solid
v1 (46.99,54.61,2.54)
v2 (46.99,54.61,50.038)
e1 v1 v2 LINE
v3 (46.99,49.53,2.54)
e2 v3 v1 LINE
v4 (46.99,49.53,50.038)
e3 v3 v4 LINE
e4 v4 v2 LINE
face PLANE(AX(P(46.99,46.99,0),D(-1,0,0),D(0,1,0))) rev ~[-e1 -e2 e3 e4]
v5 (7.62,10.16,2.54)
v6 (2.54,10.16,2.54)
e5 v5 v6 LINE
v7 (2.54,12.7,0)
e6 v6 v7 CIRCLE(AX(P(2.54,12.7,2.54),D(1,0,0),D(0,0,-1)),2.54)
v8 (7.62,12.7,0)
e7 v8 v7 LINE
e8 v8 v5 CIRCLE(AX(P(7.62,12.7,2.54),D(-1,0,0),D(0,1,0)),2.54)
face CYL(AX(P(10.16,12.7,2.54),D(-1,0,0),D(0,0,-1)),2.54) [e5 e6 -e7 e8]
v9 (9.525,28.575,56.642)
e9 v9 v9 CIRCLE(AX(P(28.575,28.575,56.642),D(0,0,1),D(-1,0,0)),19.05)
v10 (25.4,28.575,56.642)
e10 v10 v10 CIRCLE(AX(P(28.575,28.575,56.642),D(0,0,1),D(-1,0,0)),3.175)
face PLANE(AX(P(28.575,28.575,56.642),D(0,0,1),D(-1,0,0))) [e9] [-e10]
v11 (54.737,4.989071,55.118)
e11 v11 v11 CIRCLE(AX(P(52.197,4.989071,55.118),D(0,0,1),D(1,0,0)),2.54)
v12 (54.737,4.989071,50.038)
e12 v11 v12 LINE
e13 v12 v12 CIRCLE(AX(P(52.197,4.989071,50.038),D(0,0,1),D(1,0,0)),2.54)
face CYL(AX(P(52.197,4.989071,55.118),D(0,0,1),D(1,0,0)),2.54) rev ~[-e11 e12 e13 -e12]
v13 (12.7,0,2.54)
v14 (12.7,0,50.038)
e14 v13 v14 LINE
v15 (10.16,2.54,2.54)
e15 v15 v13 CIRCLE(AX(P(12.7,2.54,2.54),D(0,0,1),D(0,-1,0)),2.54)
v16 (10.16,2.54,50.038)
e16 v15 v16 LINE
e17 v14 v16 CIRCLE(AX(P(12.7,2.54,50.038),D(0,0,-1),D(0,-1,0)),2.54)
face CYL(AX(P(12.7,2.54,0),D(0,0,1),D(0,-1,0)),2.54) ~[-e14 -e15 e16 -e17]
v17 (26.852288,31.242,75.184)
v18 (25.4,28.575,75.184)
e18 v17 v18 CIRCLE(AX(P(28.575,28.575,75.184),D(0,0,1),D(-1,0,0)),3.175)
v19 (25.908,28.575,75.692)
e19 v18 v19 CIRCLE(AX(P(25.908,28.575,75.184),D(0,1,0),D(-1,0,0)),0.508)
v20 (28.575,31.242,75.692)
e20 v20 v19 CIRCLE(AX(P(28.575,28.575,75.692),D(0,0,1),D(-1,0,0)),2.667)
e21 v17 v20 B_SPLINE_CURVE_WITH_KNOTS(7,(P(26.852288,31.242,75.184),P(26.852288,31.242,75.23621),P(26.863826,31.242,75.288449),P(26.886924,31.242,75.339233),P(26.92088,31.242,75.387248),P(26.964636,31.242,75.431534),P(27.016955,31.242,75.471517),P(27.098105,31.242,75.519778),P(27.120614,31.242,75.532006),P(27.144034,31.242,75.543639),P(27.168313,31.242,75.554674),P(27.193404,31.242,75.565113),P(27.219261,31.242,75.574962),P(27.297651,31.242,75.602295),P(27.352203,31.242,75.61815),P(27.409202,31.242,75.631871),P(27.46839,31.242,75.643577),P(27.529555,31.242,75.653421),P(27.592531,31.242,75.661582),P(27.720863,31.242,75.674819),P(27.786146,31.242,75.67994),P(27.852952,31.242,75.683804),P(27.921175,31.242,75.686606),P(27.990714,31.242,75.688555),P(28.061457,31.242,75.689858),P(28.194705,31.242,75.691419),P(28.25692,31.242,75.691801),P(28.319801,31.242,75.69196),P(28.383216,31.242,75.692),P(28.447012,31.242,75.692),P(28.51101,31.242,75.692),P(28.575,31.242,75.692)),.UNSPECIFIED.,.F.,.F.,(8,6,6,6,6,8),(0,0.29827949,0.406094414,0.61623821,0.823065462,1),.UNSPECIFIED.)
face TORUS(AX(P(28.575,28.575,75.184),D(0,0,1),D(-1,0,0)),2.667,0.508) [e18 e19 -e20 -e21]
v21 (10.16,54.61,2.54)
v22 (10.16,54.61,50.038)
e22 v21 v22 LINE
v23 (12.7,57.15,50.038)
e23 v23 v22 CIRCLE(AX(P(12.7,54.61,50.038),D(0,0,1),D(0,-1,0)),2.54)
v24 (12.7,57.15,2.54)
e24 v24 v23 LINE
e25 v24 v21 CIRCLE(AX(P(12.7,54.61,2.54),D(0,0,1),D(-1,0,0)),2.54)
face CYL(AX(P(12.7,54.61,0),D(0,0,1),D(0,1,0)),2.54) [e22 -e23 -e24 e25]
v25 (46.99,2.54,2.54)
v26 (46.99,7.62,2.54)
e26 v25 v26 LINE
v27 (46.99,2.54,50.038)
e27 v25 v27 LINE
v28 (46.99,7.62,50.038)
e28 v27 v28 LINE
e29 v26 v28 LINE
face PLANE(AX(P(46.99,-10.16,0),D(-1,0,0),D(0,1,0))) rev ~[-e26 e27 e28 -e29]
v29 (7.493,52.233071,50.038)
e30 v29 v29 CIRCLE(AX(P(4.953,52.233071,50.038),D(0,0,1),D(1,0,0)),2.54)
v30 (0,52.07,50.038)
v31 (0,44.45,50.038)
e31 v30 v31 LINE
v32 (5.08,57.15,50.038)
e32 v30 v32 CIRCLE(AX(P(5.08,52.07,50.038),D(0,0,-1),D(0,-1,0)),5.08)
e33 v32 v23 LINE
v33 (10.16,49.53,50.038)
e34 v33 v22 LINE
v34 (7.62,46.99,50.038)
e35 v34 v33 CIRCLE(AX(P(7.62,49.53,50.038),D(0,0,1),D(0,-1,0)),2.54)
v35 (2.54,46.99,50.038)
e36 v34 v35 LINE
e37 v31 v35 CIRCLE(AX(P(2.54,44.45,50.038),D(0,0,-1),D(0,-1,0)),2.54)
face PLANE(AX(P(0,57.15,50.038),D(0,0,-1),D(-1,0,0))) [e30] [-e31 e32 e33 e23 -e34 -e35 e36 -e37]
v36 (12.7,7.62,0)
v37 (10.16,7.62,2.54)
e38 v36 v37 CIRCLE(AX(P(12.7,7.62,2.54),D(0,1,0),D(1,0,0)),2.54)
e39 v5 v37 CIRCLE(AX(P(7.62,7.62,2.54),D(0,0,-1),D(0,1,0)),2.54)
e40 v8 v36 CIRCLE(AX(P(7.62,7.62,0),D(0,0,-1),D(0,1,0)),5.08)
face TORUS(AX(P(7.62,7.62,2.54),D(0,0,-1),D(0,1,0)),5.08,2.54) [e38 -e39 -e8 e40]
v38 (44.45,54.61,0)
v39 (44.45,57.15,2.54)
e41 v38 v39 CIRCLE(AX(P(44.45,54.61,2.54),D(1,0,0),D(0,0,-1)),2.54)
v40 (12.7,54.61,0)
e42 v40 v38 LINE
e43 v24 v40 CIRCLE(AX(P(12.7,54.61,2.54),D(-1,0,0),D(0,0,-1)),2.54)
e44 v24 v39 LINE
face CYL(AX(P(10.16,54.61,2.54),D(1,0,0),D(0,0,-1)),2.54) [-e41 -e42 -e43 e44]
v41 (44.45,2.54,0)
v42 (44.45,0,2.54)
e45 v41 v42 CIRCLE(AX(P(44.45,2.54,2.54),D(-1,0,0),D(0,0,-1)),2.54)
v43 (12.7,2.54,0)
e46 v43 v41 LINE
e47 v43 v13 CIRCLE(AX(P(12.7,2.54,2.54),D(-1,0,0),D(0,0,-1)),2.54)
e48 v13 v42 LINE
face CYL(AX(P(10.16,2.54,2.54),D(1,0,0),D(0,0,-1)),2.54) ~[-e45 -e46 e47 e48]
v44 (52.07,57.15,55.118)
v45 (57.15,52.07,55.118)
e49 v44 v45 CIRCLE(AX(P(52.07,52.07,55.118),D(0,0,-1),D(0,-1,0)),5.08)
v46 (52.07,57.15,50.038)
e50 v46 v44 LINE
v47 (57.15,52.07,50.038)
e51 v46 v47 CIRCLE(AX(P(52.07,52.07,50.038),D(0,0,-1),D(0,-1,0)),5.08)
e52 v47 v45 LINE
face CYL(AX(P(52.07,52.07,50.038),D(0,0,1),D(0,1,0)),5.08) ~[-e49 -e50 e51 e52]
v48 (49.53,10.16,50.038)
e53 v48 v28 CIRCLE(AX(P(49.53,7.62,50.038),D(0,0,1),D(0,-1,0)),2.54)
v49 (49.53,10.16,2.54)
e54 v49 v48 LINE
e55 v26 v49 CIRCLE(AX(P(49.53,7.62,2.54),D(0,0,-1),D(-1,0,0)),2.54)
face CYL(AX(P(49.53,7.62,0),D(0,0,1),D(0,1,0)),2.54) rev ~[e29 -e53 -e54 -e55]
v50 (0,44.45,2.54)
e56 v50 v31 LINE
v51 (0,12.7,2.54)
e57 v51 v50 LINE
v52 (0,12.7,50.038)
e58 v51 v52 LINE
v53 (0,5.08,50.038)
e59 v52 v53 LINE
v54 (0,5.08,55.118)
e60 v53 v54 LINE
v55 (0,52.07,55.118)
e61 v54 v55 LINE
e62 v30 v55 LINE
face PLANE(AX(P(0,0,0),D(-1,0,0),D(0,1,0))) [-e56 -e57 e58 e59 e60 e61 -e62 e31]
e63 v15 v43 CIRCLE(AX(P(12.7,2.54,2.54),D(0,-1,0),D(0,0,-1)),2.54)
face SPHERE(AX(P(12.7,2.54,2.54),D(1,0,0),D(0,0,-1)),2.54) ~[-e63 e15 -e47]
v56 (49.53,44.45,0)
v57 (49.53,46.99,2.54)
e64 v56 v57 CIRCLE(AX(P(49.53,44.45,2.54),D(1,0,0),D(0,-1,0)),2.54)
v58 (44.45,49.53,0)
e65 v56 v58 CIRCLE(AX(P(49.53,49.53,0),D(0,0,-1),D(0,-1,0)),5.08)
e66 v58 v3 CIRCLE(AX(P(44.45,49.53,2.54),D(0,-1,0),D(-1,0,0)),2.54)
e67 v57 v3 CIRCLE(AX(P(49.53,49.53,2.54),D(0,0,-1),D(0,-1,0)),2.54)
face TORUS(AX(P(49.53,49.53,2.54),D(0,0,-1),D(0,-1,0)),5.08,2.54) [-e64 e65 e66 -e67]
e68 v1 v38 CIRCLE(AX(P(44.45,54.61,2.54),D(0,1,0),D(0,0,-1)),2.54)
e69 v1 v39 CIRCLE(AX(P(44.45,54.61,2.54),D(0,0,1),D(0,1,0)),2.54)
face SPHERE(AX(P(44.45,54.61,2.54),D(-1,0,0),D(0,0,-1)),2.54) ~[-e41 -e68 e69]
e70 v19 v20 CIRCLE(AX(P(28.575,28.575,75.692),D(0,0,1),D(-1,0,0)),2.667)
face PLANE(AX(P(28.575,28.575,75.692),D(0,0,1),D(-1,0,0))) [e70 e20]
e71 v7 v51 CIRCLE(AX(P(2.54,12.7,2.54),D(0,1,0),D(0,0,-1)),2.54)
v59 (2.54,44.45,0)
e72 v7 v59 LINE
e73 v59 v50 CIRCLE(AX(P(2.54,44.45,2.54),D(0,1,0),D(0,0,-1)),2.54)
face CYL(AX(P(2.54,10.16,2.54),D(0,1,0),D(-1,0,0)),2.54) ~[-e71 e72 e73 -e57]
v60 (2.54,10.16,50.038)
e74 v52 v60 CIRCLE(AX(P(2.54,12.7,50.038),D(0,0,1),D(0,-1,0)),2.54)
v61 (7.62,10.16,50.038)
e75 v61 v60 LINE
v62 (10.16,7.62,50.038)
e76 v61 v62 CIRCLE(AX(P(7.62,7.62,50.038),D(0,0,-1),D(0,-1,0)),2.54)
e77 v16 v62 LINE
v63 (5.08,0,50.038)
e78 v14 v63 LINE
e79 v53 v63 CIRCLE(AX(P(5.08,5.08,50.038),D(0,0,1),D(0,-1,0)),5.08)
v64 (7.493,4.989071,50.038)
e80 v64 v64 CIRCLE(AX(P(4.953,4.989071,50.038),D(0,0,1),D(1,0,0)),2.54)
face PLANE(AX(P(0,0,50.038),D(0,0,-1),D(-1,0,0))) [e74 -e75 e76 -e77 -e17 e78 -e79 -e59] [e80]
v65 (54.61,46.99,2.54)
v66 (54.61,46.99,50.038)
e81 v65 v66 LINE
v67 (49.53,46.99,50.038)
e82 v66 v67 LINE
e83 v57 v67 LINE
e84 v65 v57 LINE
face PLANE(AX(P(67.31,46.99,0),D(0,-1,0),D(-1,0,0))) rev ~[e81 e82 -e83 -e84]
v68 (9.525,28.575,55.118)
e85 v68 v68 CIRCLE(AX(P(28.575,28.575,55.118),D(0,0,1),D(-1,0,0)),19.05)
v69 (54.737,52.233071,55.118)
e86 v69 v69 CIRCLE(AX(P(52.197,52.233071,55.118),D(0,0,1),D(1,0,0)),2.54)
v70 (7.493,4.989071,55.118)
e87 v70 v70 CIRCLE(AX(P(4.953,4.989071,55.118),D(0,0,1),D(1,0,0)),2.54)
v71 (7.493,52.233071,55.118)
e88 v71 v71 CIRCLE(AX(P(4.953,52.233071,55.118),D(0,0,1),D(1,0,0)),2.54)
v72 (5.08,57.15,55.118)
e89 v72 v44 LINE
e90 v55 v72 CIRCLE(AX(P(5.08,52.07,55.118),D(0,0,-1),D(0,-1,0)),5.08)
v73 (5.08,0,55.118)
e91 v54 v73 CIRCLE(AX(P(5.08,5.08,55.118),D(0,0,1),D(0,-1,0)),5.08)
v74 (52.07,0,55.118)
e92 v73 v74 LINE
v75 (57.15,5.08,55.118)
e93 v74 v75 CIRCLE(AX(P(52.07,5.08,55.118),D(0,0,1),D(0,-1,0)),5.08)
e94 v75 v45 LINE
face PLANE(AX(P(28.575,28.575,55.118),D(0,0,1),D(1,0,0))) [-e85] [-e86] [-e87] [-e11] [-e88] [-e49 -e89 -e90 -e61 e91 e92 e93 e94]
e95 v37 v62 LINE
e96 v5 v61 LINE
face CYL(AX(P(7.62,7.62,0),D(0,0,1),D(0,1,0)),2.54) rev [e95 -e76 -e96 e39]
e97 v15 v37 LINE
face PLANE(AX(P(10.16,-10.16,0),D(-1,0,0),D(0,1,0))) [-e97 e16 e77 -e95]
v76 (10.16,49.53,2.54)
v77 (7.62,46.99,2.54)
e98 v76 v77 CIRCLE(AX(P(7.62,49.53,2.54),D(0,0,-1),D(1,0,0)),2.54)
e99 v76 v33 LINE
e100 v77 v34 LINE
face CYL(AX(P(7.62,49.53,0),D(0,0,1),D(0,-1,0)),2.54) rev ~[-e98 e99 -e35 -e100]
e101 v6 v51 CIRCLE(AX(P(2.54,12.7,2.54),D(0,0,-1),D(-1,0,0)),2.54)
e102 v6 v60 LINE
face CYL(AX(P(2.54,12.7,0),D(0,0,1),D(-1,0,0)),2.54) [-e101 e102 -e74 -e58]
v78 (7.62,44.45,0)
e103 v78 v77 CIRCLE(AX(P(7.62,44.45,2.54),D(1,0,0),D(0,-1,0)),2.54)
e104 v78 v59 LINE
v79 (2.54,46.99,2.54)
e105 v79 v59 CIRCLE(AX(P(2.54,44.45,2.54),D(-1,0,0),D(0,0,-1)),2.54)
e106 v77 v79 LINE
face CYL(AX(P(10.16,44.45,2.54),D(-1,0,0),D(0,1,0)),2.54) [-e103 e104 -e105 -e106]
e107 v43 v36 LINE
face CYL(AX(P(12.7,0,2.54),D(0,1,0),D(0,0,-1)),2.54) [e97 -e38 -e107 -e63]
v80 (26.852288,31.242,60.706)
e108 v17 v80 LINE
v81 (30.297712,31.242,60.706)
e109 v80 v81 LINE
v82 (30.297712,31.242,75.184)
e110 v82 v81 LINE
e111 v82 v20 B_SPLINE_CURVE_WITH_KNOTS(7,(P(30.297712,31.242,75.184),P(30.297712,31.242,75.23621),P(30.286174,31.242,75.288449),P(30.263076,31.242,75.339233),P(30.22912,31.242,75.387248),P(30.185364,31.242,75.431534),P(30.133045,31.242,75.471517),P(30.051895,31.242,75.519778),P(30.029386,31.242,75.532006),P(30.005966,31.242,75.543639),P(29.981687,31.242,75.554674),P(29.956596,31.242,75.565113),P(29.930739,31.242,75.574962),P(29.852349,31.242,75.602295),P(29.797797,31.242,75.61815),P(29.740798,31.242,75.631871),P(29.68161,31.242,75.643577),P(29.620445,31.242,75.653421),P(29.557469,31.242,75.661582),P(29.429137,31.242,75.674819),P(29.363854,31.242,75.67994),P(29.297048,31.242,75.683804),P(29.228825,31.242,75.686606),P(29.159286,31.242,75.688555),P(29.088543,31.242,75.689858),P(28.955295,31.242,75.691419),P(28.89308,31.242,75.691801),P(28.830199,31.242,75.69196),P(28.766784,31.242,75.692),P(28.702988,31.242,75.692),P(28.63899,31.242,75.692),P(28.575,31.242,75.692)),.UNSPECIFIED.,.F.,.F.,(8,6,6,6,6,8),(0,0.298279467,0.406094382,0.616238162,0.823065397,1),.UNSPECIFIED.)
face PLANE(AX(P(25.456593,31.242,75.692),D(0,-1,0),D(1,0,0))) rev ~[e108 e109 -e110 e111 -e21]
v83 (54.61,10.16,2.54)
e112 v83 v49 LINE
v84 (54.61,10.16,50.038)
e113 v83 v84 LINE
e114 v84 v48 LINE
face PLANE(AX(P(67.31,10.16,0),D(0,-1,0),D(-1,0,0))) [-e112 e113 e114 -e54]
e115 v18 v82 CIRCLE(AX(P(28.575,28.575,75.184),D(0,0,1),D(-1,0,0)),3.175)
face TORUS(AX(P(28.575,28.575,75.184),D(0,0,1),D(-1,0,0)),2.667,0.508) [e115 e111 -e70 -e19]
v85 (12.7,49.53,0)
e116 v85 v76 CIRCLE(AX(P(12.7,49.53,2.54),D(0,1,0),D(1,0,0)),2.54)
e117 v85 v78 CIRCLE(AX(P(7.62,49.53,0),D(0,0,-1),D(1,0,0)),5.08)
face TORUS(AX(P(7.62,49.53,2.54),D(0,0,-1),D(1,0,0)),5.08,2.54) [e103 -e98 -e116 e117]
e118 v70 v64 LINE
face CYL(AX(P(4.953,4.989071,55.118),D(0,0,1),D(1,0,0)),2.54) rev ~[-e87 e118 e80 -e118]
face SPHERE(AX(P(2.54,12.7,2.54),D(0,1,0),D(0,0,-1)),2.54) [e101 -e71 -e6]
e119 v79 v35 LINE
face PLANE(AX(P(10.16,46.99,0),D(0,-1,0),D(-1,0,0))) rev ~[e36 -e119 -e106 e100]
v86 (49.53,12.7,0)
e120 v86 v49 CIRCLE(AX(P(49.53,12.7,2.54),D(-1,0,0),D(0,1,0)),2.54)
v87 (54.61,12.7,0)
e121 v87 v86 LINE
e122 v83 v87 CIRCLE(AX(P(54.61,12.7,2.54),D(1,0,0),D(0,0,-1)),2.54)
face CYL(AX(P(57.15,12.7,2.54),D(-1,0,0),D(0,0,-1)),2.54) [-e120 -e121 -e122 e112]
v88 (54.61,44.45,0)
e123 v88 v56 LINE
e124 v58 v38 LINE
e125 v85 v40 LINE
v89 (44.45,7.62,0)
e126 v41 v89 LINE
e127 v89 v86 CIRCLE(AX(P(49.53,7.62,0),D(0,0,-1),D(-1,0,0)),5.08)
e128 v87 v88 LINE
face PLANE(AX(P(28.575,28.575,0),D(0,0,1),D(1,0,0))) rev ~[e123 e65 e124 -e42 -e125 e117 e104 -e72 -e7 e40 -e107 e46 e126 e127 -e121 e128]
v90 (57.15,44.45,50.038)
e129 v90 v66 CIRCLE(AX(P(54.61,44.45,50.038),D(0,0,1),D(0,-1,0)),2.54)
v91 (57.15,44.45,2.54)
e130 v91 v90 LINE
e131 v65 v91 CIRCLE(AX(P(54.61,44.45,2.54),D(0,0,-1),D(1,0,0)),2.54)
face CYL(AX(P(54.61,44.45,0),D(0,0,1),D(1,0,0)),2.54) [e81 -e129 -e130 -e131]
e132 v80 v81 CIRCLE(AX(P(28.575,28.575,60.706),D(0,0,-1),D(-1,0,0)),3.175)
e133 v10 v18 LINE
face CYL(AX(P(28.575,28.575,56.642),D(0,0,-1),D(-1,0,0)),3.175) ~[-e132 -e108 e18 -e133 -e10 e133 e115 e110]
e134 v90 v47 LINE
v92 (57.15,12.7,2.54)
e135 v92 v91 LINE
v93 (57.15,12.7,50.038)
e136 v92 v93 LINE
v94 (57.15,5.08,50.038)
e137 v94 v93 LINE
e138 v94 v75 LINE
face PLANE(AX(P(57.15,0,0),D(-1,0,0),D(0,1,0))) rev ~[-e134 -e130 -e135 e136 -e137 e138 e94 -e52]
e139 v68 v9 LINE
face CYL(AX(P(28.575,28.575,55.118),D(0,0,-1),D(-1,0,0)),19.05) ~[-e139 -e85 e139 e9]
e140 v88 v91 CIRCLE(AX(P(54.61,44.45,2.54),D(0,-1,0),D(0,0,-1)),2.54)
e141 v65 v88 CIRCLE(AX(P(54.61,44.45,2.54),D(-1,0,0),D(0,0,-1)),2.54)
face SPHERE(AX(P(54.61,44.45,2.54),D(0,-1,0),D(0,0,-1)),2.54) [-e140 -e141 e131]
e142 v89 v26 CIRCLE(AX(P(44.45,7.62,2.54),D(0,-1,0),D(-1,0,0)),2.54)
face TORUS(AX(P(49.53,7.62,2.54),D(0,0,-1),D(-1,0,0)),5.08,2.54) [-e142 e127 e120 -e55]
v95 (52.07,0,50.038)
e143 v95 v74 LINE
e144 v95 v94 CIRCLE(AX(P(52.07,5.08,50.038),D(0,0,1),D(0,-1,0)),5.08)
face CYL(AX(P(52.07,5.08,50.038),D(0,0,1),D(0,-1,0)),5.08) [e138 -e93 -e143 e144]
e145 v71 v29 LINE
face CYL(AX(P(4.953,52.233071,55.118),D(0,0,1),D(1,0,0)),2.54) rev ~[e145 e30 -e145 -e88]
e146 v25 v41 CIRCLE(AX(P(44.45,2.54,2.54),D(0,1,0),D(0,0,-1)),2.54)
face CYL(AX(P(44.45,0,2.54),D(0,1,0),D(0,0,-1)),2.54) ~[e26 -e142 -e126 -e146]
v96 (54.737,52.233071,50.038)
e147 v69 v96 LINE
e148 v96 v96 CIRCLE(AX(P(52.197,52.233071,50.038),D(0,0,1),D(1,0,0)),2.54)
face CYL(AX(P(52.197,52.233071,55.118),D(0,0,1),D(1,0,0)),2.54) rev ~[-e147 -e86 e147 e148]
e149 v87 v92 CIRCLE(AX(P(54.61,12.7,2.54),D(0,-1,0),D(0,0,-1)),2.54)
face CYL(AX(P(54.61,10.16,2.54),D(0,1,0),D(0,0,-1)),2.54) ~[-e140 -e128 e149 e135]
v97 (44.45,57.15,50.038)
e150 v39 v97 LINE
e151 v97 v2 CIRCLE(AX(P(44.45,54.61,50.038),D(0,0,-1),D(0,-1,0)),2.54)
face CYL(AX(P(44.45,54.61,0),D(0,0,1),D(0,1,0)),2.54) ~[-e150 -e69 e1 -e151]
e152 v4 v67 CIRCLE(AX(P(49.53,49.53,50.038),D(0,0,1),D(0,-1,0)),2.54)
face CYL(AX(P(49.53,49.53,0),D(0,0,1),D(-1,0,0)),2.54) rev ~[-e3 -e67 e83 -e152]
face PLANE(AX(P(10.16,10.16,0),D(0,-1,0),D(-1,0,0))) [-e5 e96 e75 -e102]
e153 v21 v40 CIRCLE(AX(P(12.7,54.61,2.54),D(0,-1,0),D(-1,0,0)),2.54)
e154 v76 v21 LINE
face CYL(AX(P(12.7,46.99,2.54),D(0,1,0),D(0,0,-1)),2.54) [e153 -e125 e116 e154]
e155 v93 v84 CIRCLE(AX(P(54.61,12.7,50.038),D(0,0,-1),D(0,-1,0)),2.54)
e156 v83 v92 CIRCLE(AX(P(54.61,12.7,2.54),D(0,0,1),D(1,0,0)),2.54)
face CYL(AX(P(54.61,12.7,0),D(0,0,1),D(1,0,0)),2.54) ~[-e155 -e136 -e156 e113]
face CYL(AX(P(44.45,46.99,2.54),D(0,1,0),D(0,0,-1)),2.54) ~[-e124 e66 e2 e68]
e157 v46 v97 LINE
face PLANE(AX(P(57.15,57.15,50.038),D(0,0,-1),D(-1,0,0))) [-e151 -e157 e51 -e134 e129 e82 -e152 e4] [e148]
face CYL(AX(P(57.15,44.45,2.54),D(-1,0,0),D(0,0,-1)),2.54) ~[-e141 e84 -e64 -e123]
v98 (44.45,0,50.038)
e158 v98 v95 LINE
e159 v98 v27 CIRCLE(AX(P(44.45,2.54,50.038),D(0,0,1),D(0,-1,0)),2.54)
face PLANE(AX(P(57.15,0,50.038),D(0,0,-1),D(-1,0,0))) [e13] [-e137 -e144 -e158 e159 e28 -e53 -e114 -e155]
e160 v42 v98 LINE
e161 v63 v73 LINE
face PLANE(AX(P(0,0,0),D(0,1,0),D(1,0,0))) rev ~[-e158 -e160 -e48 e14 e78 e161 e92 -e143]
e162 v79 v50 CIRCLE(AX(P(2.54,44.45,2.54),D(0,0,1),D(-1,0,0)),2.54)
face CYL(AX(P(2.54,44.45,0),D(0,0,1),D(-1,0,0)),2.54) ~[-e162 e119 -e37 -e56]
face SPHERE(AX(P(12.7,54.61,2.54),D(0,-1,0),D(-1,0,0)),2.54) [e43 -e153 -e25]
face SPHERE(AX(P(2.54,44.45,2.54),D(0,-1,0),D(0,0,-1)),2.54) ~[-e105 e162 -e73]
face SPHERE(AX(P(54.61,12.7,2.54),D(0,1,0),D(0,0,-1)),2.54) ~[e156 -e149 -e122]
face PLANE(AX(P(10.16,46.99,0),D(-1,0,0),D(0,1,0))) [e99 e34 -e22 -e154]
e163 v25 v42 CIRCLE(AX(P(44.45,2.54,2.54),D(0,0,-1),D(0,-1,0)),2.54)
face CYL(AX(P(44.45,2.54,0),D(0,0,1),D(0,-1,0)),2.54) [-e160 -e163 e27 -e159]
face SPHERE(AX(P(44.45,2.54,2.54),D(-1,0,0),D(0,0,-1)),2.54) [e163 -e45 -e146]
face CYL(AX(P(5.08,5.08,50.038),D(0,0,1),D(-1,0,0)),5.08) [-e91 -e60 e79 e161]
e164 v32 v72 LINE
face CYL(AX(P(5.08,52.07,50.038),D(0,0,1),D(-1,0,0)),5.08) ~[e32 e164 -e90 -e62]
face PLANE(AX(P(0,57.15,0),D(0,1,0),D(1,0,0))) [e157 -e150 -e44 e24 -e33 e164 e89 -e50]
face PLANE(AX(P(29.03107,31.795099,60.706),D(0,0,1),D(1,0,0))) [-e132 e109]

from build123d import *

# Parameters (mm, degrees)
SKETCH1_W           = 57.15
SKETCH1_H           = 57.15
BOSS_EXTRUDE1_DEPTH = 55.118
SKETCH2_R           = 19.05
BOSS_EXTRUDE2_DEPTH = 1.524
SKETCH3_R           = 3.175
BOSS_EXTRUDE3_DEPTH = 19.05
SKETCH18_W          = 20.32
SKETCH18_H          = 20.32
CUT_EXTRUDE13_DEPTH = 50.038
SKETCH20_W          = 20.32
SKETCH20_H          = 20.32
CUT_EXTRUDE14_DEPTH = 50.038
SKETCH21_W          = 20.32
SKETCH21_H          = 20.32
CUT_EXTRUDE15_DEPTH = 50.038
SKETCH22_W          = 20.32
SKETCH22_H          = 20.32
CUT_EXTRUDE16_DEPTH = 50.038
SKETCH11_R          = 2.54
CUT_EXTRUDE8_DEPTH  = 98.827597967
SKETCH12_R          = 2.54
CUT_EXTRUDE9_DEPTH  = 98.827597967
SKETCH14_R          = 2.54
CUT_EXTRUDE10_DEPTH = 98.827597967
SKETCH15_R          = 2.54
CUT_EXTRUDE11_DEPTH = 98.827597967
FILLET2_R           = 5.08
FILLET4_R           = 2.54
FILLET1_R           = 0.508
SKETCH10_W          = 7.148953117
SKETCH10_H          = 1.106198654
CUT_EXTRUDE7_DEPTH  = 14.986


with BuildPart() as part:
    # Sketch1 → Boss-Extrude1 (new body)
    with BuildSketch(Plane.XY):
        with Locations((28.575, 28.575)):
            Rectangle(SKETCH1_W, SKETCH1_H)
    extrude(amount=BOSS_EXTRUDE1_DEPTH)

    # Sketch2 → Boss-Extrude2 (add)
    with BuildSketch(Plane.XY.offset(55.118)):
        with Locations(Location((28.575, 28.575, 0), (0, 0, 180))):
            Circle(SKETCH2_R)
    extrude(amount=BOSS_EXTRUDE2_DEPTH)

    # Sketch3 → Boss-Extrude3 (add)
    with BuildSketch(Plane.XY.offset(56.642)):
        with Locations(Location((28.575, 28.575, 0), (0, 0, 180))):
            Circle(SKETCH3_R)
    extrude(amount=BOSS_EXTRUDE3_DEPTH)

    # Sketch18 → Cut-Extrude13 (cut)
    with BuildSketch(Plane(origin=(0, 0, 0), x_dir=(-1, 0, 0), z_dir=(0, 0, -1))):
        with Locations((0, 57.15)):
            Rectangle(SKETCH18_W, SKETCH18_H)
    extrude(amount=-CUT_EXTRUDE13_DEPTH, mode=Mode.SUBTRACT)

    # Sketch20 → Cut-Extrude14 (cut)
    with BuildSketch(Plane(origin=(0, 0, 0), x_dir=(-1, 0, 0), z_dir=(0, 0, -1))):
        Rectangle(SKETCH20_W, SKETCH20_H)
    extrude(amount=-CUT_EXTRUDE14_DEPTH, mode=Mode.SUBTRACT)

    # Sketch21 → Cut-Extrude15 (cut)
    with BuildSketch(Plane(origin=(0, 0, 0), x_dir=(-1, 0, 0), z_dir=(0, 0, -1))):
        with Locations((-57.15, 0)):
            Rectangle(SKETCH21_W, SKETCH21_H)
    extrude(amount=-CUT_EXTRUDE15_DEPTH, mode=Mode.SUBTRACT)

    # Sketch22 → Cut-Extrude16 (cut)
    with BuildSketch(Plane(origin=(0, 0, 0), x_dir=(-1, 0, 0), z_dir=(0, 0, -1))):
        with Locations((-57.15, 57.15)):
            Rectangle(SKETCH22_W, SKETCH22_H)
    extrude(amount=-CUT_EXTRUDE16_DEPTH, mode=Mode.SUBTRACT)

    # Sketch11 → Cut-Extrude8 (cut, through all)
    with BuildSketch(Plane.XY.offset(55.118)):
        with Locations((4.953, 52.233071325)):
            Circle(SKETCH11_R)
    extrude(amount=-CUT_EXTRUDE8_DEPTH, mode=Mode.SUBTRACT)

    # Sketch12 → Cut-Extrude9 (cut, through all)
    with BuildSketch(Plane.XY.offset(55.118)):
        with Locations((52.197, 52.233071325)):
            Circle(SKETCH12_R)
    extrude(amount=-CUT_EXTRUDE9_DEPTH, mode=Mode.SUBTRACT)

    # Sketch14 → Cut-Extrude10 (cut, through all)
    with BuildSketch(Plane.XY.offset(55.118)):
        with Locations((4.953, 4.989071325)):
            Circle(SKETCH14_R)
    extrude(amount=-CUT_EXTRUDE10_DEPTH, mode=Mode.SUBTRACT)

    # Sketch15 → Cut-Extrude11 (cut, through all)
    with BuildSketch(Plane.XY.offset(55.118)):
        with Locations((52.197, 4.989071325)):
            Circle(SKETCH15_R)
    extrude(amount=-CUT_EXTRUDE11_DEPTH, mode=Mode.SUBTRACT)

    # Fillet2
    fillet2_edges = [part.edges().sort_by_distance(p)[0] for p in [
        (0, 57.15, 52.578),
        (57.15, 57.15, 52.578),
        (57.15, 0, 52.578),
        (0, 0, 52.578),
    ]]
    fillet(fillet2_edges, radius=FILLET2_R)

    # Fillet4
    fillet4_edges = [part.edges().sort_by_distance(p)[0] for p in [
        (0, 28.575, 0),
        (10.16, 52.07, 0),
        (5.08, 46.99, 0),
        (0, 46.99, 25.019),
        (10.16, 57.15, 25.019),
        (10.16, 46.99, 25.019),
        (28.575, 0, 0),
        (5.08, 10.16, 0),
        (10.16, 5.08, 0),
        (10.16, 0, 25.019),
        (0, 10.16, 25.019),
        (10.16, 10.16, 25.019),
        (57.15, 28.575, 0),
        (46.99, 5.08, 0),
        (52.07, 10.16, 0),
        (57.15, 10.16, 25.019),
        (46.99, 0, 25.019),
        (46.99, 10.16, 25.019),
        (28.575, 57.15, 0),
        (52.07, 46.99, 0),
        (46.99, 52.07, 0),
        (46.99, 57.15, 25.019),
        (57.15, 46.99, 25.019),
        (46.99, 46.99, 25.019),
    ]]
    fillet(fillet4_edges, radius=FILLET4_R)

    # Fillet1
    fillet1_edges = [part.edges().sort_by_distance(p)[0] for p in [
        (31.75, 28.575, 75.692),
    ]]
    fillet(fillet1_edges, radius=FILLET1_R)

    # Sketch10 → Cut-Extrude7 (cut)
    with BuildSketch(Plane.XY.offset(75.692)):
        with Locations((29.031069878, 31.795099327)):
            Rectangle(SKETCH10_W, SKETCH10_H)
    extrude(amount=-CUT_EXTRUDE7_DEPTH, mode=Mode.SUBTRACT)


solid = part.part
